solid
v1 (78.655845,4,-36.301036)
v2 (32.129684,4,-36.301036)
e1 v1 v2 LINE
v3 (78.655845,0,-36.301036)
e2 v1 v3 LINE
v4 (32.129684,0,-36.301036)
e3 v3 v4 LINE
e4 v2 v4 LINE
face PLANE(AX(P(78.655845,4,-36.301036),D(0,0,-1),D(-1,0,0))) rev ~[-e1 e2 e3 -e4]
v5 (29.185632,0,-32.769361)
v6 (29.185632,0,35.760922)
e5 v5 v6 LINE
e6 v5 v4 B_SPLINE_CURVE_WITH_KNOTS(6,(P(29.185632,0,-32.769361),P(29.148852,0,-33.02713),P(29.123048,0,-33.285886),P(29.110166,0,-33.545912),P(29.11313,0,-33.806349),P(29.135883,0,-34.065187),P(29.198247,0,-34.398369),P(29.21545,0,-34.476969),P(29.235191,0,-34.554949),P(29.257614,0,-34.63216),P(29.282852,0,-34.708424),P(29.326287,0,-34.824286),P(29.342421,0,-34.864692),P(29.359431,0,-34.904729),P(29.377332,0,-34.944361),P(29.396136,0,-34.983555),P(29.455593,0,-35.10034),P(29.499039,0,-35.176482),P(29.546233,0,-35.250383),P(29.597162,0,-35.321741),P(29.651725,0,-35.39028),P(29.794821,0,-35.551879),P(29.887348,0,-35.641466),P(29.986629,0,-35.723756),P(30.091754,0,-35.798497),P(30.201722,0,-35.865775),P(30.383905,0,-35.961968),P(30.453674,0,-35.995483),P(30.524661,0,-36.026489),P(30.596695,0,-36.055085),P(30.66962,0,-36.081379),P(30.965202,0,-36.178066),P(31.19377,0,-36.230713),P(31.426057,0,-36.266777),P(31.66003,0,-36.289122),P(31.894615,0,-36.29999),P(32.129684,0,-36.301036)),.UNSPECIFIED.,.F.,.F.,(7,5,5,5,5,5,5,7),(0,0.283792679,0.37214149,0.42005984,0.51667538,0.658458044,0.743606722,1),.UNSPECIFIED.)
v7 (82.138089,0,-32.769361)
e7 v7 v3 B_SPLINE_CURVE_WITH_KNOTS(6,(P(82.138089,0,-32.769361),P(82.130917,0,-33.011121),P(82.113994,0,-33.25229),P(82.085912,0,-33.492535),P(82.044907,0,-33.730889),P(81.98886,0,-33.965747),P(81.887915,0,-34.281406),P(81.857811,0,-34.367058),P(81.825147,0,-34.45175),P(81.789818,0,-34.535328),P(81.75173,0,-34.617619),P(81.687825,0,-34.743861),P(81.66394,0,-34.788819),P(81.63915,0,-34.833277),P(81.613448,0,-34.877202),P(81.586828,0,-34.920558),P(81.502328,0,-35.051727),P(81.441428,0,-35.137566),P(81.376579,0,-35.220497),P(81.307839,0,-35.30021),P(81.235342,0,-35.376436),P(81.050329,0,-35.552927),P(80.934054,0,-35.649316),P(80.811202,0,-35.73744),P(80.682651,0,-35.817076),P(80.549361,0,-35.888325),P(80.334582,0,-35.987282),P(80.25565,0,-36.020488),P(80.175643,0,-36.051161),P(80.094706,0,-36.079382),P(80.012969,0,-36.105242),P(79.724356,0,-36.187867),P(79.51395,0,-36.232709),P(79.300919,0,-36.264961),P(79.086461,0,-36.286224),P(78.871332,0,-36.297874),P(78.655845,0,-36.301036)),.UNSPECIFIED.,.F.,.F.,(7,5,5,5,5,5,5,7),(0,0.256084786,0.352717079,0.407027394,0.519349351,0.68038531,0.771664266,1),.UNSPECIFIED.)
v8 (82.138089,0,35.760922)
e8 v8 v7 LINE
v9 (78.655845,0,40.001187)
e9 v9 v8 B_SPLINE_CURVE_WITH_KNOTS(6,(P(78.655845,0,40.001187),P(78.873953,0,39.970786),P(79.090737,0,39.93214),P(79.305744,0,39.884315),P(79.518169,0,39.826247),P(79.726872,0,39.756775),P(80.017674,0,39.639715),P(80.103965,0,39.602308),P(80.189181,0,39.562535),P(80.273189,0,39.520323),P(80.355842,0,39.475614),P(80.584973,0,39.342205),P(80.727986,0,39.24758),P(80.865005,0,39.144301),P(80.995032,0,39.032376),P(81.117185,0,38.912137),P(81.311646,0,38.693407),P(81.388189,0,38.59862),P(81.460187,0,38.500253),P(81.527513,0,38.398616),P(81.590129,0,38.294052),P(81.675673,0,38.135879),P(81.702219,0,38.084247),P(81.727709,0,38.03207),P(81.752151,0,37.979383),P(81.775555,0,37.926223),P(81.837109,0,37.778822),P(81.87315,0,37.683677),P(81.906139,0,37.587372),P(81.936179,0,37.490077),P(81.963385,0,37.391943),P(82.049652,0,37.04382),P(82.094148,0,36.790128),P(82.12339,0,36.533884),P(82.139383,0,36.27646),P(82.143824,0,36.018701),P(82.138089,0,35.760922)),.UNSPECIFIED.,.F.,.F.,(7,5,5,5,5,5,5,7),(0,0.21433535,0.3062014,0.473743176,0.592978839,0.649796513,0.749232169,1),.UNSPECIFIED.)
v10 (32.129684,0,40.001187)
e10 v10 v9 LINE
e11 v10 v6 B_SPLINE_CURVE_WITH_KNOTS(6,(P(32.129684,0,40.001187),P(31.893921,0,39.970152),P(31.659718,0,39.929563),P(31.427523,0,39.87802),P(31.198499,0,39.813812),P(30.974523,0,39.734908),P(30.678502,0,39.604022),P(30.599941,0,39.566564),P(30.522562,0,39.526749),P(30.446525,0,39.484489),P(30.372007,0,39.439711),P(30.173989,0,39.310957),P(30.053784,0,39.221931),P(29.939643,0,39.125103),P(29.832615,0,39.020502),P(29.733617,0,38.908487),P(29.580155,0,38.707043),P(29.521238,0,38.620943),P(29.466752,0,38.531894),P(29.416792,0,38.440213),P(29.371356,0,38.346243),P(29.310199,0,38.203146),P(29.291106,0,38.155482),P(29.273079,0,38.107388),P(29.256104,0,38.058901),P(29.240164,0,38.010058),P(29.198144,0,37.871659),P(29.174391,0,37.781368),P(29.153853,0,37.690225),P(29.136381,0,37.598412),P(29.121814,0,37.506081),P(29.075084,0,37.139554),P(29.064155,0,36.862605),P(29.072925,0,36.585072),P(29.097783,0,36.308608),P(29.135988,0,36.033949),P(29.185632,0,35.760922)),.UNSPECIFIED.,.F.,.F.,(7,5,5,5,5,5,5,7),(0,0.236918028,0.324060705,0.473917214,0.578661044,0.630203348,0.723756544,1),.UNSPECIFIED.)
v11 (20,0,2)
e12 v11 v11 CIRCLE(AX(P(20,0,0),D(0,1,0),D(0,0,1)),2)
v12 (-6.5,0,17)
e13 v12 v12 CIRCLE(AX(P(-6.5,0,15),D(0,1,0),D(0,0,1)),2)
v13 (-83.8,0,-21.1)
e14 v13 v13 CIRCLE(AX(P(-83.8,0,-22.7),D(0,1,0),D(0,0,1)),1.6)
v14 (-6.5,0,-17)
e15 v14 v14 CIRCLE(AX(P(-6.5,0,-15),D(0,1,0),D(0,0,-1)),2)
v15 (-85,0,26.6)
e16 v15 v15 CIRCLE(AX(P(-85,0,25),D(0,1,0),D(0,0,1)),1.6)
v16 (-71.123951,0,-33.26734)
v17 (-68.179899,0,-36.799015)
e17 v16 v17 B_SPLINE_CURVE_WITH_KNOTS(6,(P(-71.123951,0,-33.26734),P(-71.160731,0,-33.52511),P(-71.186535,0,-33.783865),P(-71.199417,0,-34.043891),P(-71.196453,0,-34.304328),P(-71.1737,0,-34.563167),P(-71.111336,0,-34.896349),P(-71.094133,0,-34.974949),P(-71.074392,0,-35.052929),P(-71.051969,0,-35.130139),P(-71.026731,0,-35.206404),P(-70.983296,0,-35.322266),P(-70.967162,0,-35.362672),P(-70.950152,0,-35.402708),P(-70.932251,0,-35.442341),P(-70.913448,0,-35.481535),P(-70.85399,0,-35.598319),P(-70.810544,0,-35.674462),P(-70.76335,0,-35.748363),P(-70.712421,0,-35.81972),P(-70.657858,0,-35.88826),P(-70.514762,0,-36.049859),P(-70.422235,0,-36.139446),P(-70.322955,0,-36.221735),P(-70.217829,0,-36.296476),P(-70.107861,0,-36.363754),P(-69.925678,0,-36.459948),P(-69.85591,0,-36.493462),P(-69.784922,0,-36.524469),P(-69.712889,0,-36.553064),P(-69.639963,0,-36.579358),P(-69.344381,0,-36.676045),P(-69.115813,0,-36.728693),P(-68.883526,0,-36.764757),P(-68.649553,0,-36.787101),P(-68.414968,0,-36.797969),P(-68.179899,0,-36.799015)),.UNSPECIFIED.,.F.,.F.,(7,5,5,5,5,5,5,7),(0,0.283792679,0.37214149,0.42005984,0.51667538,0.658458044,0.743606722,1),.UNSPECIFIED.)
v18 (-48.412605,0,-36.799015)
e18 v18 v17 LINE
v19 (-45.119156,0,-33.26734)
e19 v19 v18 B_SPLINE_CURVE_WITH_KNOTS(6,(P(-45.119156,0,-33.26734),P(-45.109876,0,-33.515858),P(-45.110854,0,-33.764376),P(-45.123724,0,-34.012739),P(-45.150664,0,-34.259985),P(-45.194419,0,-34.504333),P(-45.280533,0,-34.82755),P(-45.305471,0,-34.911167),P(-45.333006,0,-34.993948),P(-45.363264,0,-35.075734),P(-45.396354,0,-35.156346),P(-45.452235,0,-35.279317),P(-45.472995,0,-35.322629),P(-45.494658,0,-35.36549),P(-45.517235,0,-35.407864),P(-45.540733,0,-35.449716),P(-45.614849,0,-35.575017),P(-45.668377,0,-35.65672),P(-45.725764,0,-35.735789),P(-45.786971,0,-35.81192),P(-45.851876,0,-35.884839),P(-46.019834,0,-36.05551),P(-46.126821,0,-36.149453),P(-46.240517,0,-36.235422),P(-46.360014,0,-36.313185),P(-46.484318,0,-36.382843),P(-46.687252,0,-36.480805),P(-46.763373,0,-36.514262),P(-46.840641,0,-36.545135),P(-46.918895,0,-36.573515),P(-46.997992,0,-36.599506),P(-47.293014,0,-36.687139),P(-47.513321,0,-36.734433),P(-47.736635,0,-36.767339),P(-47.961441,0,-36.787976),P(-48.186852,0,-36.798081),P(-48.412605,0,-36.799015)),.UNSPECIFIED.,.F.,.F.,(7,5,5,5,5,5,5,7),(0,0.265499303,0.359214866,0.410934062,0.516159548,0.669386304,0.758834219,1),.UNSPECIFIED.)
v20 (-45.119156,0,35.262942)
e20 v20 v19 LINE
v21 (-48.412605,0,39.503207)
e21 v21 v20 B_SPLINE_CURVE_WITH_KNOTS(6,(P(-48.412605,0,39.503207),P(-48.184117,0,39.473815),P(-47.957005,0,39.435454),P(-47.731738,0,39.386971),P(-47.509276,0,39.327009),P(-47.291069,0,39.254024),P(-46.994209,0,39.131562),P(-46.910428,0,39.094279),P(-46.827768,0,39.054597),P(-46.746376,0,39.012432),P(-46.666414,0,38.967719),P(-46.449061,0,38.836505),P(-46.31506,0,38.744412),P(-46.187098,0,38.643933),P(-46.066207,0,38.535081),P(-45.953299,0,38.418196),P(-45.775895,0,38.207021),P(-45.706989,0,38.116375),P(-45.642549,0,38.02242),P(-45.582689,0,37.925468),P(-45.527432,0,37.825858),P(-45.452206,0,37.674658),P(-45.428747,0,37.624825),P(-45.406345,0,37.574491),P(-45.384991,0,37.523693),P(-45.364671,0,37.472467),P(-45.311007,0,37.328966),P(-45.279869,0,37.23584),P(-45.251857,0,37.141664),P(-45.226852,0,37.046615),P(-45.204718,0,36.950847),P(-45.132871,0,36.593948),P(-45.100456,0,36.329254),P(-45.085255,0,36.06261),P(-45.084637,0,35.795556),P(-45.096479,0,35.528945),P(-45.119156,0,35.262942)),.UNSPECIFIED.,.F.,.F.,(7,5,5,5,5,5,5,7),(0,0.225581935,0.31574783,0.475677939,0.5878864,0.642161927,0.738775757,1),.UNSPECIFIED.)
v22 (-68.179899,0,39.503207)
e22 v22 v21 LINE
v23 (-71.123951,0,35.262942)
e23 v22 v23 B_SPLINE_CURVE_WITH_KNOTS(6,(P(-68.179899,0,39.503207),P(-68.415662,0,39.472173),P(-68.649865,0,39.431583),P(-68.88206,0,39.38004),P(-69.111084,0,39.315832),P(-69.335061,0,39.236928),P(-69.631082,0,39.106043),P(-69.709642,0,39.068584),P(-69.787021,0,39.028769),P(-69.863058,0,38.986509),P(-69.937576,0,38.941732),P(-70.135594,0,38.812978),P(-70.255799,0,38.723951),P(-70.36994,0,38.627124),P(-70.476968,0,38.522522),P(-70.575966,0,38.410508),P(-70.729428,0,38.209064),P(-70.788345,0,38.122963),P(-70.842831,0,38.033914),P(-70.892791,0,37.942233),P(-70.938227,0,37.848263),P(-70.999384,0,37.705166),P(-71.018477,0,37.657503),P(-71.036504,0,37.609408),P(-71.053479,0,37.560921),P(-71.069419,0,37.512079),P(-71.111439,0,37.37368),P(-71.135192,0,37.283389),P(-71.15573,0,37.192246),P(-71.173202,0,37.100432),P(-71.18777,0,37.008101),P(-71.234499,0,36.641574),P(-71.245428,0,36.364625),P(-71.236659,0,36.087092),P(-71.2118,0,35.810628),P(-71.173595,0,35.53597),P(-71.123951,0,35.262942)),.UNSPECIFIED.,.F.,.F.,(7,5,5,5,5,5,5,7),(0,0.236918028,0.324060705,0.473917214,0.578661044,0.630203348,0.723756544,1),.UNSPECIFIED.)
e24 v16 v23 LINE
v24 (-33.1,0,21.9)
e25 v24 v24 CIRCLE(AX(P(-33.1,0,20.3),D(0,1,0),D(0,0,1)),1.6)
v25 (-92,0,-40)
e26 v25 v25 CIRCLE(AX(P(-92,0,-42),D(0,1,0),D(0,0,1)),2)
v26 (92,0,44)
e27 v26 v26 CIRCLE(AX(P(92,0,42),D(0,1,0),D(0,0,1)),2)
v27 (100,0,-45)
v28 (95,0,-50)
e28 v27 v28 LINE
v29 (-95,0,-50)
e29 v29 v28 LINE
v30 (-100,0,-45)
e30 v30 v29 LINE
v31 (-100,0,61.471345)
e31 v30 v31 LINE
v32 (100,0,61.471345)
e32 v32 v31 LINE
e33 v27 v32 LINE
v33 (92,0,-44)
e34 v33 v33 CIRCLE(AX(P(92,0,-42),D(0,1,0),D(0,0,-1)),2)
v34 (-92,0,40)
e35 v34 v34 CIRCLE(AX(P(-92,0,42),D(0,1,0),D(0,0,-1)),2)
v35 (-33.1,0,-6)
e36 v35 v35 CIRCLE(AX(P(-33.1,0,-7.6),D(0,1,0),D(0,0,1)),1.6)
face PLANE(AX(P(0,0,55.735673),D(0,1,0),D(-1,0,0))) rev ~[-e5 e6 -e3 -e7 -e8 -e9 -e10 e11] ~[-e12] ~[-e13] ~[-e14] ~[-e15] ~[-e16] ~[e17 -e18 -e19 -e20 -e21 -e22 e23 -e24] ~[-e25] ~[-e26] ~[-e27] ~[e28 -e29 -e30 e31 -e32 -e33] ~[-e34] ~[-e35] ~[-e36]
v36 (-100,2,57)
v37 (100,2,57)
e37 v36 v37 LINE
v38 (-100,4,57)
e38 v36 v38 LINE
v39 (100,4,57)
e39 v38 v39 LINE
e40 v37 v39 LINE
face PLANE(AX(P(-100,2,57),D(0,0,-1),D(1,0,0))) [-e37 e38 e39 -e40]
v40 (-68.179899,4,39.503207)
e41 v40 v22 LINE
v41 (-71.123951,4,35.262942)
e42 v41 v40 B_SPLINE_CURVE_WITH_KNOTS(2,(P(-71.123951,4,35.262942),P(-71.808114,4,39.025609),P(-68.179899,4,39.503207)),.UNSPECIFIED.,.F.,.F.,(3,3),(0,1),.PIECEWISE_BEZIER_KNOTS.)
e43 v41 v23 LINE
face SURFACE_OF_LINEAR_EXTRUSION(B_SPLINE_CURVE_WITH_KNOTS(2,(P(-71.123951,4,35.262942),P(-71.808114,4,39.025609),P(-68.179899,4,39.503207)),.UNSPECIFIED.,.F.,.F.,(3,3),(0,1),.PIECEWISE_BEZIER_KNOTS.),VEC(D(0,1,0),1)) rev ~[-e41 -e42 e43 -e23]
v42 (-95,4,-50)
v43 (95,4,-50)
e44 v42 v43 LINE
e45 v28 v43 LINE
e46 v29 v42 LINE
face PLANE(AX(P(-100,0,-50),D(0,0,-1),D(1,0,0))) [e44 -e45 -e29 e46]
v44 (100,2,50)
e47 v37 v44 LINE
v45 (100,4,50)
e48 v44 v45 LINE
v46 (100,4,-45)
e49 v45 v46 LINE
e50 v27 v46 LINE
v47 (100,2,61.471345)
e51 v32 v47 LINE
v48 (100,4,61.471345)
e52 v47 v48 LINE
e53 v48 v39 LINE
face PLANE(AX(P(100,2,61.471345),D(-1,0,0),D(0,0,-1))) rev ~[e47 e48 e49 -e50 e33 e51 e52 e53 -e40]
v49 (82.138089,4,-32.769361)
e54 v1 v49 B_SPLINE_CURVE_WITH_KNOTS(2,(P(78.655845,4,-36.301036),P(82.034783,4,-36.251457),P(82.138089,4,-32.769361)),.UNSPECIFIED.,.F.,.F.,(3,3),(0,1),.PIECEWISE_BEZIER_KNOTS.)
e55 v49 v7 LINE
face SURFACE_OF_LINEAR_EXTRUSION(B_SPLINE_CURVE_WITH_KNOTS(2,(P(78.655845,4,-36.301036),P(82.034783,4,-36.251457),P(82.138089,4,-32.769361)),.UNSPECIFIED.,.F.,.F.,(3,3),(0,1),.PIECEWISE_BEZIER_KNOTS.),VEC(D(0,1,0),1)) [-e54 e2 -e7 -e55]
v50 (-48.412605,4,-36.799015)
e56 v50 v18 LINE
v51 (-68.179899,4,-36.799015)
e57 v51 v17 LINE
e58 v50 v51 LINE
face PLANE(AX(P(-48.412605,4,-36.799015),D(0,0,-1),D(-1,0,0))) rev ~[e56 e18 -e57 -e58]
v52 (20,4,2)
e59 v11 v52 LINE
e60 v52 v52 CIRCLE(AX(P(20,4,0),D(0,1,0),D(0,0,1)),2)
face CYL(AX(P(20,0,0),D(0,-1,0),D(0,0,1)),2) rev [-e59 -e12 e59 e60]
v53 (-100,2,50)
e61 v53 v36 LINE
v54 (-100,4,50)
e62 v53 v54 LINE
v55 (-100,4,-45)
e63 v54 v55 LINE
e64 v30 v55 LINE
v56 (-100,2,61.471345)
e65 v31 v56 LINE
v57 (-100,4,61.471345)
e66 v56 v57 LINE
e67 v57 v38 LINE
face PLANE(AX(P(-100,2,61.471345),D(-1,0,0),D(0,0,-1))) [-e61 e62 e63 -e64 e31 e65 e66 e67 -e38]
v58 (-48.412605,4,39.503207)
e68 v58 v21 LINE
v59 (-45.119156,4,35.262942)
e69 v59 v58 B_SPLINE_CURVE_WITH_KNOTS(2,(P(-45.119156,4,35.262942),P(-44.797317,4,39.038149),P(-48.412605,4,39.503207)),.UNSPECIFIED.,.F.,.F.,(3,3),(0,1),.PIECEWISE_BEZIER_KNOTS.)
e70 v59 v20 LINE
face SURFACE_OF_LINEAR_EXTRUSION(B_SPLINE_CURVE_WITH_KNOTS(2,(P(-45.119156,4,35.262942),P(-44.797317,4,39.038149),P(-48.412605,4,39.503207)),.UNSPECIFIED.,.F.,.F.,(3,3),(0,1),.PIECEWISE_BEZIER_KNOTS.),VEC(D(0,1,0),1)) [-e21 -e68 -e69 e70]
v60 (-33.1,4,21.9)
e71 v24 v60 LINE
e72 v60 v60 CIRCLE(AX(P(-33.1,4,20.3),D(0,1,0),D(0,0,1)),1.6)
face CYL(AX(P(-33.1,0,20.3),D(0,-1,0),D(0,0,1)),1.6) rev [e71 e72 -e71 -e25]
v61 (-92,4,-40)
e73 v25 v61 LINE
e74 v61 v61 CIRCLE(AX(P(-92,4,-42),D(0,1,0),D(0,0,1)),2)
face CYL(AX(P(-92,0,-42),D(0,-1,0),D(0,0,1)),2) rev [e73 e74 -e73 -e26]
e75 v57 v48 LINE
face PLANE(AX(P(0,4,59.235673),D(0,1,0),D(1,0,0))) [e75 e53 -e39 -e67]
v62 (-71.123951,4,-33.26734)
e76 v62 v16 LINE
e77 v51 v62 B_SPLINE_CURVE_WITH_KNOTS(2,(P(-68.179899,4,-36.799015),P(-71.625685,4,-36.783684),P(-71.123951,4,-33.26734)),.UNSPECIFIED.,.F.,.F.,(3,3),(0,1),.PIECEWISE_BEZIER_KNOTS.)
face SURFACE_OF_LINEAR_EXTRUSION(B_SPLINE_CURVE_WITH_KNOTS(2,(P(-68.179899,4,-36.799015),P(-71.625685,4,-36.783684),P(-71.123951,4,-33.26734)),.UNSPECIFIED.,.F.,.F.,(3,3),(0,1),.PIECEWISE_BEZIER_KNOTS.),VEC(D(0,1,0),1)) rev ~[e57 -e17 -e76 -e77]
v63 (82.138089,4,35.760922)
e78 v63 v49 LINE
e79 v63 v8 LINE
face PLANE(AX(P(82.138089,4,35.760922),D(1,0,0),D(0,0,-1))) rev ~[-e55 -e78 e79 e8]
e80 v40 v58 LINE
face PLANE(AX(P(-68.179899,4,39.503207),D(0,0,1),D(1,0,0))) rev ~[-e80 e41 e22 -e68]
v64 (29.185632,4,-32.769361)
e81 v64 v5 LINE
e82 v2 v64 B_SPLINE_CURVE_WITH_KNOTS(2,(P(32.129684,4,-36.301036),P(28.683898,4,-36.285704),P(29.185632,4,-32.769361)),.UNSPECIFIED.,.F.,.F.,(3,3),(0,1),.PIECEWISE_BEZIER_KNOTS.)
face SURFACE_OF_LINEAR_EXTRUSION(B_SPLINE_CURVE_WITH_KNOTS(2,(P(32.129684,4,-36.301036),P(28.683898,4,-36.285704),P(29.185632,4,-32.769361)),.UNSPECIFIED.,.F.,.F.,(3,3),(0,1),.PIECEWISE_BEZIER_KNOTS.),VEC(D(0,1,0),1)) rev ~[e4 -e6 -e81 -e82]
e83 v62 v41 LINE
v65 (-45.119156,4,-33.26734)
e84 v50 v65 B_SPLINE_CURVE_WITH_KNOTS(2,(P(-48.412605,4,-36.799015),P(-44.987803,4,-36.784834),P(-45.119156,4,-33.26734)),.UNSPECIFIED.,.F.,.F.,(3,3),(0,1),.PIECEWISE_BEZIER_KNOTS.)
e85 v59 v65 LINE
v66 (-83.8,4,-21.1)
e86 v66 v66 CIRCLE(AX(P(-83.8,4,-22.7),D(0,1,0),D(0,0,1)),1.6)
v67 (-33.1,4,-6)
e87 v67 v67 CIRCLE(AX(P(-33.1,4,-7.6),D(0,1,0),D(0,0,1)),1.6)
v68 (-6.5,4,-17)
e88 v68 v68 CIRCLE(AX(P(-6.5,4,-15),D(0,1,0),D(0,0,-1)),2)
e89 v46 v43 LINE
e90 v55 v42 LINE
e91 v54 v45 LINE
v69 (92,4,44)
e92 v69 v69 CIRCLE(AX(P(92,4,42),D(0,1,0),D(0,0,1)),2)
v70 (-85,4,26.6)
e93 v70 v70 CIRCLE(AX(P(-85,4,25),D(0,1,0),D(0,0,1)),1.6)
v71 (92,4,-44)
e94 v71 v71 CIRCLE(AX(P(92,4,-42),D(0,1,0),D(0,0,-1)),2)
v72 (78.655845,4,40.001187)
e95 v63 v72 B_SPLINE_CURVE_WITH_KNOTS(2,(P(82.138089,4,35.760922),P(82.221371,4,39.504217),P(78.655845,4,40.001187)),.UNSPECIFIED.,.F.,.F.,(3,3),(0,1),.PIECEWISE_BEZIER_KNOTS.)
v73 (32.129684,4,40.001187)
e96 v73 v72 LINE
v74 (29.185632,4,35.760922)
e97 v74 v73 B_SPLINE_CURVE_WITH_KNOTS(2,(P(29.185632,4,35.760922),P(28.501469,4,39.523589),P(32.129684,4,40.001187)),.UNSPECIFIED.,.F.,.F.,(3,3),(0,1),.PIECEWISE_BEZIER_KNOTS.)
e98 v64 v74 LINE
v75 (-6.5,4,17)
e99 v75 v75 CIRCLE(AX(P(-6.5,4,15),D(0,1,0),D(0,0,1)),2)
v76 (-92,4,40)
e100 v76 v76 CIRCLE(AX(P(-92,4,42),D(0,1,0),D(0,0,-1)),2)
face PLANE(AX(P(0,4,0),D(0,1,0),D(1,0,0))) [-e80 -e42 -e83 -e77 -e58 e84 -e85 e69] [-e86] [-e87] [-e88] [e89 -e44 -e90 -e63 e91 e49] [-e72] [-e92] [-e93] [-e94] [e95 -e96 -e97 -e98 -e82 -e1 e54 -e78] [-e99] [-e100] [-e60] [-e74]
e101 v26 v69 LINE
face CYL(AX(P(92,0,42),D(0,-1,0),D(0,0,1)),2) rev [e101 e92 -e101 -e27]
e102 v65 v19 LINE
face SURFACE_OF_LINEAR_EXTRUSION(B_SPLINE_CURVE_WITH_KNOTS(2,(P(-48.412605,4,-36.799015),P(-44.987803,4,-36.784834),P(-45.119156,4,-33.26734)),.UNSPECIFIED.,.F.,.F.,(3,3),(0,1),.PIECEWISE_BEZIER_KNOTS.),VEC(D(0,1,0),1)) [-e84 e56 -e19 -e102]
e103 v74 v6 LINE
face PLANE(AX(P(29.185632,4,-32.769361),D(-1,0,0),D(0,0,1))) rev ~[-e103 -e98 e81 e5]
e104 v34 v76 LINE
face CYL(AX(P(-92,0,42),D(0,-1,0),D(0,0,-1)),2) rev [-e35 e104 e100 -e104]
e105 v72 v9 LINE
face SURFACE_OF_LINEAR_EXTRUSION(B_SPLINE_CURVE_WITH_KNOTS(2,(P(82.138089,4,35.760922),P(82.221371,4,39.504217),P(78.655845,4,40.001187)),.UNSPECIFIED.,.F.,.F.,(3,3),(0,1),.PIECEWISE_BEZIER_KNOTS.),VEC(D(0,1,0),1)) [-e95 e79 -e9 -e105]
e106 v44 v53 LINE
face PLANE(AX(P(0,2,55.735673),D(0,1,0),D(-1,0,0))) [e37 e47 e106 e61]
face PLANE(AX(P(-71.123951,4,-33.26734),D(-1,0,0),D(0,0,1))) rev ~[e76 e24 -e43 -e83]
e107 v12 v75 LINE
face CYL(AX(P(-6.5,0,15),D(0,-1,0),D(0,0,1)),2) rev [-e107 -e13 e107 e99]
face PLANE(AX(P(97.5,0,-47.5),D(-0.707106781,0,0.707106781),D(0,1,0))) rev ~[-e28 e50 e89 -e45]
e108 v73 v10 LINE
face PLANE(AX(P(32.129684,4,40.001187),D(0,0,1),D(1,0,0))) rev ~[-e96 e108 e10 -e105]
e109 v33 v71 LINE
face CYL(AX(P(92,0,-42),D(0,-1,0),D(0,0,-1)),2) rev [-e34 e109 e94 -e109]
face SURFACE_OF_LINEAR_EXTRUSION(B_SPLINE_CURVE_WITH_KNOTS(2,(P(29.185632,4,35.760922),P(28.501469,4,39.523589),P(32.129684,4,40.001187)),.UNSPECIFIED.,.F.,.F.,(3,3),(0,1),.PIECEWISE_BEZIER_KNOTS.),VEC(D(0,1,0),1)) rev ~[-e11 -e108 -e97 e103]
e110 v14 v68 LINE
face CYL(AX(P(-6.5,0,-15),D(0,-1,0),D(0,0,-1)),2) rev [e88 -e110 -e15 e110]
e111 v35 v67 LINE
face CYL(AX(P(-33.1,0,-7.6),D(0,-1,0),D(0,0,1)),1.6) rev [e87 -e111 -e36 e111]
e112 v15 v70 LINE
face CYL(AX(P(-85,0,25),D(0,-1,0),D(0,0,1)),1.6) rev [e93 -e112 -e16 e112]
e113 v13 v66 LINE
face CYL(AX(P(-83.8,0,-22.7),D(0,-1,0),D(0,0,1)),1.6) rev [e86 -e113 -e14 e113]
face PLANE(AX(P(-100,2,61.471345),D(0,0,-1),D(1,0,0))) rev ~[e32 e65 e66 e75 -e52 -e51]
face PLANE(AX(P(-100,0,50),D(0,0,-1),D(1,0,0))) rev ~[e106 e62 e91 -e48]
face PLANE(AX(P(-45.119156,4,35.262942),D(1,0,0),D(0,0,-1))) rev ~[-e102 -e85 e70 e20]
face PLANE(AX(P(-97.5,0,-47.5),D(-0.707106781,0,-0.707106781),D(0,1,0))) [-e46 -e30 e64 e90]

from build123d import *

# Parameters (mm, degrees)
ESQUISSE1_W             = 200
ESQUISSE1_H             = 100
ESQUISSE1_R             = 2
ESQUISSE1_R_2           = 1.6
BOSS_EXTRU_1_DEPTH      = 4
ENL_V_MAT_EXTRU_1_DEPTH = 10
BOSS_EXTRU_2_DEPTH      = 2
ESQUISSE4_W             = 200
ESQUISSE4_H             = 4.471345155
BOSS_EXTRU_3_DEPTH      = 2
CHANFREIN1_SIZE         = 5


with BuildPart() as part:
    # Esquisse1 → Boss.-Extru.1 (new body)
    with BuildSketch(Plane(origin=(0, 0, 0), x_dir=(1, 0, 0), z_dir=(0, 1, 0))):
        Rectangle(ESQUISSE1_W, ESQUISSE1_H)
        with Locations(Location((-92, 42, 0), (0, 0, 270))):
            Circle(ESQUISSE1_R, mode=Mode.SUBTRACT)
        with Locations(Location((92, 42, 0), (0, 0, 90))):
            Circle(ESQUISSE1_R, mode=Mode.SUBTRACT)
        with Locations(Location((92, -42, 0), (0, 0, 270))):
            Circle(ESQUISSE1_R, mode=Mode.SUBTRACT)
        with Locations(Location((-92, -42, 0), (0, 0, 90))):
            Circle(ESQUISSE1_R, mode=Mode.SUBTRACT)
        with Locations(Location((-6.5, -15, 0), (0, 0, 270))):
            Circle(ESQUISSE1_R, mode=Mode.SUBTRACT)
        with Locations(Location((20, 0, 0), (0, 0, 270))):
            Circle(ESQUISSE1_R, mode=Mode.SUBTRACT)
        with Locations(Location((-6.5, 15, 0), (0, 0, 90))):
            Circle(ESQUISSE1_R, mode=Mode.SUBTRACT)
        with Locations(Location((-33.1, -20.3, 0), (0, 0, 270))):
            Circle(ESQUISSE1_R_2, mode=Mode.SUBTRACT)
        with Locations(Location((-33.1, 7.6, 0), (0, 0, 270))):
            Circle(ESQUISSE1_R_2, mode=Mode.SUBTRACT)
        with Locations(Location((-85, -25, 0), (0, 0, 270))):
            Circle(ESQUISSE1_R_2, mode=Mode.SUBTRACT)
        with Locations(Location((-83.8, 22.7, 0), (0, 0, 270))):
            Circle(ESQUISSE1_R_2, mode=Mode.SUBTRACT)
    extrude(amount=BOSS_EXTRU_1_DEPTH)

    # Esquisse2 → Enlèv. mat.-Extru.1 (cut)
    with BuildSketch(Plane(origin=(0, 4, 0), x_dir=(1, 0, 0), z_dir=(0, 1, 0))):
        with BuildLine():
            Line((-71.12395108, 33.267340446), (-71.12395108, -35.262942493))
            add(Edge.make_bspline(
                [(-71.12395108, -35.262942493), (-71.80811413, -39.025609189), (-68.179899303, -39.50320708)],
                knots=[0, 0, 0, 1, 1, 1], degree=2))
            Line((-68.179899303, -39.50320708), (-48.41260505, -39.50320708))
            add(Edge.make_bspline(
                [(-45.119156215, -35.262942493), (-44.797316754, -39.038148597), (-48.41260505, -39.50320708)],
                knots=[0, 0, 0, 1, 1, 1], degree=2))
            Line((-45.119156215, -35.262942493), (-45.119156215, 33.267340446))
            add(Edge.make_bspline(
                [(-48.41260505, 36.799015417), (-44.987803153, 36.784833779), (-45.119156215, 33.267340446)],
                knots=[0, 0, 0, 1, 1, 1], degree=2))
            Line((-48.41260505, 36.799015417), (-68.179899303, 36.799015417))
            add(Edge.make_bspline(
                [(-68.179899303, 36.799015417), (-71.625685069, 36.783683635), (-71.12395108, 33.267340446)],
                knots=[0, 0, 0, 1, 1, 1], degree=2))
        make_face()
        with BuildLine():
            Line((29.185631994, 32.76936094), (29.185631994, -35.760921998))
            add(Edge.make_bspline(
                [(29.185631994, -35.760921998), (28.501468944, -39.523588695), (32.129683771, -40.001186586)],
                knots=[0, 0, 0, 1, 1, 1], degree=2))
            Line((32.129683771, -40.001186586), (78.655845139, -40.001186586))
            add(Edge.make_bspline(
                [(82.138089103, -35.760921998), (82.221370803, -39.504216764), (78.655845139, -40.001186586)],
                knots=[0, 0, 0, 1, 1, 1], degree=2))
            Line((82.138089103, -35.760921998), (82.138089103, 32.76936094))
            add(Edge.make_bspline(
                [(78.655845139, 36.301035912), (82.034782777, 36.251456851), (82.138089103, 32.76936094)],
                knots=[0, 0, 0, 1, 1, 1], degree=2))
            Line((78.655845139, 36.301035912), (32.129683771, 36.301035912))
            add(Edge.make_bspline(
                [(32.129683771, 36.301035912), (28.683898005, 36.28570413), (29.185631994, 32.76936094)],
                knots=[0, 0, 0, 1, 1, 1], degree=2))
        make_face()
    extrude(amount=-ENL_V_MAT_EXTRU_1_DEPTH, mode=Mode.SUBTRACT)

    # Esquisse3 → Boss.-Extru.2 (add)
    with BuildSketch(Plane.XZ):
        Polygon((-100, 50), (-100, 61.471345155), (0, 61.471345155), (100, 61.471345155), (100, 50), align=None)
    extrude(amount=-BOSS_EXTRU_2_DEPTH)

    # Esquisse4 → Boss.-Extru.3 (add)
    with BuildSketch(Plane(origin=(0, 2, 0), x_dir=(1, 0, 0), z_dir=(0, 1, 0))):
        with Locations((0, -59.235672577)):
            Rectangle(ESQUISSE4_W, ESQUISSE4_H)
    extrude(amount=BOSS_EXTRU_3_DEPTH)

    # Chanfrein1
    chanfrein1_edges = [part.edges().sort_by_distance(p)[0] for p in [
        (-100, 2, -50),
        (100, 2, -50),
    ]]
    chamfer(chanfrein1_edges, length=CHANFREIN1_SIZE)


solid = part.part
